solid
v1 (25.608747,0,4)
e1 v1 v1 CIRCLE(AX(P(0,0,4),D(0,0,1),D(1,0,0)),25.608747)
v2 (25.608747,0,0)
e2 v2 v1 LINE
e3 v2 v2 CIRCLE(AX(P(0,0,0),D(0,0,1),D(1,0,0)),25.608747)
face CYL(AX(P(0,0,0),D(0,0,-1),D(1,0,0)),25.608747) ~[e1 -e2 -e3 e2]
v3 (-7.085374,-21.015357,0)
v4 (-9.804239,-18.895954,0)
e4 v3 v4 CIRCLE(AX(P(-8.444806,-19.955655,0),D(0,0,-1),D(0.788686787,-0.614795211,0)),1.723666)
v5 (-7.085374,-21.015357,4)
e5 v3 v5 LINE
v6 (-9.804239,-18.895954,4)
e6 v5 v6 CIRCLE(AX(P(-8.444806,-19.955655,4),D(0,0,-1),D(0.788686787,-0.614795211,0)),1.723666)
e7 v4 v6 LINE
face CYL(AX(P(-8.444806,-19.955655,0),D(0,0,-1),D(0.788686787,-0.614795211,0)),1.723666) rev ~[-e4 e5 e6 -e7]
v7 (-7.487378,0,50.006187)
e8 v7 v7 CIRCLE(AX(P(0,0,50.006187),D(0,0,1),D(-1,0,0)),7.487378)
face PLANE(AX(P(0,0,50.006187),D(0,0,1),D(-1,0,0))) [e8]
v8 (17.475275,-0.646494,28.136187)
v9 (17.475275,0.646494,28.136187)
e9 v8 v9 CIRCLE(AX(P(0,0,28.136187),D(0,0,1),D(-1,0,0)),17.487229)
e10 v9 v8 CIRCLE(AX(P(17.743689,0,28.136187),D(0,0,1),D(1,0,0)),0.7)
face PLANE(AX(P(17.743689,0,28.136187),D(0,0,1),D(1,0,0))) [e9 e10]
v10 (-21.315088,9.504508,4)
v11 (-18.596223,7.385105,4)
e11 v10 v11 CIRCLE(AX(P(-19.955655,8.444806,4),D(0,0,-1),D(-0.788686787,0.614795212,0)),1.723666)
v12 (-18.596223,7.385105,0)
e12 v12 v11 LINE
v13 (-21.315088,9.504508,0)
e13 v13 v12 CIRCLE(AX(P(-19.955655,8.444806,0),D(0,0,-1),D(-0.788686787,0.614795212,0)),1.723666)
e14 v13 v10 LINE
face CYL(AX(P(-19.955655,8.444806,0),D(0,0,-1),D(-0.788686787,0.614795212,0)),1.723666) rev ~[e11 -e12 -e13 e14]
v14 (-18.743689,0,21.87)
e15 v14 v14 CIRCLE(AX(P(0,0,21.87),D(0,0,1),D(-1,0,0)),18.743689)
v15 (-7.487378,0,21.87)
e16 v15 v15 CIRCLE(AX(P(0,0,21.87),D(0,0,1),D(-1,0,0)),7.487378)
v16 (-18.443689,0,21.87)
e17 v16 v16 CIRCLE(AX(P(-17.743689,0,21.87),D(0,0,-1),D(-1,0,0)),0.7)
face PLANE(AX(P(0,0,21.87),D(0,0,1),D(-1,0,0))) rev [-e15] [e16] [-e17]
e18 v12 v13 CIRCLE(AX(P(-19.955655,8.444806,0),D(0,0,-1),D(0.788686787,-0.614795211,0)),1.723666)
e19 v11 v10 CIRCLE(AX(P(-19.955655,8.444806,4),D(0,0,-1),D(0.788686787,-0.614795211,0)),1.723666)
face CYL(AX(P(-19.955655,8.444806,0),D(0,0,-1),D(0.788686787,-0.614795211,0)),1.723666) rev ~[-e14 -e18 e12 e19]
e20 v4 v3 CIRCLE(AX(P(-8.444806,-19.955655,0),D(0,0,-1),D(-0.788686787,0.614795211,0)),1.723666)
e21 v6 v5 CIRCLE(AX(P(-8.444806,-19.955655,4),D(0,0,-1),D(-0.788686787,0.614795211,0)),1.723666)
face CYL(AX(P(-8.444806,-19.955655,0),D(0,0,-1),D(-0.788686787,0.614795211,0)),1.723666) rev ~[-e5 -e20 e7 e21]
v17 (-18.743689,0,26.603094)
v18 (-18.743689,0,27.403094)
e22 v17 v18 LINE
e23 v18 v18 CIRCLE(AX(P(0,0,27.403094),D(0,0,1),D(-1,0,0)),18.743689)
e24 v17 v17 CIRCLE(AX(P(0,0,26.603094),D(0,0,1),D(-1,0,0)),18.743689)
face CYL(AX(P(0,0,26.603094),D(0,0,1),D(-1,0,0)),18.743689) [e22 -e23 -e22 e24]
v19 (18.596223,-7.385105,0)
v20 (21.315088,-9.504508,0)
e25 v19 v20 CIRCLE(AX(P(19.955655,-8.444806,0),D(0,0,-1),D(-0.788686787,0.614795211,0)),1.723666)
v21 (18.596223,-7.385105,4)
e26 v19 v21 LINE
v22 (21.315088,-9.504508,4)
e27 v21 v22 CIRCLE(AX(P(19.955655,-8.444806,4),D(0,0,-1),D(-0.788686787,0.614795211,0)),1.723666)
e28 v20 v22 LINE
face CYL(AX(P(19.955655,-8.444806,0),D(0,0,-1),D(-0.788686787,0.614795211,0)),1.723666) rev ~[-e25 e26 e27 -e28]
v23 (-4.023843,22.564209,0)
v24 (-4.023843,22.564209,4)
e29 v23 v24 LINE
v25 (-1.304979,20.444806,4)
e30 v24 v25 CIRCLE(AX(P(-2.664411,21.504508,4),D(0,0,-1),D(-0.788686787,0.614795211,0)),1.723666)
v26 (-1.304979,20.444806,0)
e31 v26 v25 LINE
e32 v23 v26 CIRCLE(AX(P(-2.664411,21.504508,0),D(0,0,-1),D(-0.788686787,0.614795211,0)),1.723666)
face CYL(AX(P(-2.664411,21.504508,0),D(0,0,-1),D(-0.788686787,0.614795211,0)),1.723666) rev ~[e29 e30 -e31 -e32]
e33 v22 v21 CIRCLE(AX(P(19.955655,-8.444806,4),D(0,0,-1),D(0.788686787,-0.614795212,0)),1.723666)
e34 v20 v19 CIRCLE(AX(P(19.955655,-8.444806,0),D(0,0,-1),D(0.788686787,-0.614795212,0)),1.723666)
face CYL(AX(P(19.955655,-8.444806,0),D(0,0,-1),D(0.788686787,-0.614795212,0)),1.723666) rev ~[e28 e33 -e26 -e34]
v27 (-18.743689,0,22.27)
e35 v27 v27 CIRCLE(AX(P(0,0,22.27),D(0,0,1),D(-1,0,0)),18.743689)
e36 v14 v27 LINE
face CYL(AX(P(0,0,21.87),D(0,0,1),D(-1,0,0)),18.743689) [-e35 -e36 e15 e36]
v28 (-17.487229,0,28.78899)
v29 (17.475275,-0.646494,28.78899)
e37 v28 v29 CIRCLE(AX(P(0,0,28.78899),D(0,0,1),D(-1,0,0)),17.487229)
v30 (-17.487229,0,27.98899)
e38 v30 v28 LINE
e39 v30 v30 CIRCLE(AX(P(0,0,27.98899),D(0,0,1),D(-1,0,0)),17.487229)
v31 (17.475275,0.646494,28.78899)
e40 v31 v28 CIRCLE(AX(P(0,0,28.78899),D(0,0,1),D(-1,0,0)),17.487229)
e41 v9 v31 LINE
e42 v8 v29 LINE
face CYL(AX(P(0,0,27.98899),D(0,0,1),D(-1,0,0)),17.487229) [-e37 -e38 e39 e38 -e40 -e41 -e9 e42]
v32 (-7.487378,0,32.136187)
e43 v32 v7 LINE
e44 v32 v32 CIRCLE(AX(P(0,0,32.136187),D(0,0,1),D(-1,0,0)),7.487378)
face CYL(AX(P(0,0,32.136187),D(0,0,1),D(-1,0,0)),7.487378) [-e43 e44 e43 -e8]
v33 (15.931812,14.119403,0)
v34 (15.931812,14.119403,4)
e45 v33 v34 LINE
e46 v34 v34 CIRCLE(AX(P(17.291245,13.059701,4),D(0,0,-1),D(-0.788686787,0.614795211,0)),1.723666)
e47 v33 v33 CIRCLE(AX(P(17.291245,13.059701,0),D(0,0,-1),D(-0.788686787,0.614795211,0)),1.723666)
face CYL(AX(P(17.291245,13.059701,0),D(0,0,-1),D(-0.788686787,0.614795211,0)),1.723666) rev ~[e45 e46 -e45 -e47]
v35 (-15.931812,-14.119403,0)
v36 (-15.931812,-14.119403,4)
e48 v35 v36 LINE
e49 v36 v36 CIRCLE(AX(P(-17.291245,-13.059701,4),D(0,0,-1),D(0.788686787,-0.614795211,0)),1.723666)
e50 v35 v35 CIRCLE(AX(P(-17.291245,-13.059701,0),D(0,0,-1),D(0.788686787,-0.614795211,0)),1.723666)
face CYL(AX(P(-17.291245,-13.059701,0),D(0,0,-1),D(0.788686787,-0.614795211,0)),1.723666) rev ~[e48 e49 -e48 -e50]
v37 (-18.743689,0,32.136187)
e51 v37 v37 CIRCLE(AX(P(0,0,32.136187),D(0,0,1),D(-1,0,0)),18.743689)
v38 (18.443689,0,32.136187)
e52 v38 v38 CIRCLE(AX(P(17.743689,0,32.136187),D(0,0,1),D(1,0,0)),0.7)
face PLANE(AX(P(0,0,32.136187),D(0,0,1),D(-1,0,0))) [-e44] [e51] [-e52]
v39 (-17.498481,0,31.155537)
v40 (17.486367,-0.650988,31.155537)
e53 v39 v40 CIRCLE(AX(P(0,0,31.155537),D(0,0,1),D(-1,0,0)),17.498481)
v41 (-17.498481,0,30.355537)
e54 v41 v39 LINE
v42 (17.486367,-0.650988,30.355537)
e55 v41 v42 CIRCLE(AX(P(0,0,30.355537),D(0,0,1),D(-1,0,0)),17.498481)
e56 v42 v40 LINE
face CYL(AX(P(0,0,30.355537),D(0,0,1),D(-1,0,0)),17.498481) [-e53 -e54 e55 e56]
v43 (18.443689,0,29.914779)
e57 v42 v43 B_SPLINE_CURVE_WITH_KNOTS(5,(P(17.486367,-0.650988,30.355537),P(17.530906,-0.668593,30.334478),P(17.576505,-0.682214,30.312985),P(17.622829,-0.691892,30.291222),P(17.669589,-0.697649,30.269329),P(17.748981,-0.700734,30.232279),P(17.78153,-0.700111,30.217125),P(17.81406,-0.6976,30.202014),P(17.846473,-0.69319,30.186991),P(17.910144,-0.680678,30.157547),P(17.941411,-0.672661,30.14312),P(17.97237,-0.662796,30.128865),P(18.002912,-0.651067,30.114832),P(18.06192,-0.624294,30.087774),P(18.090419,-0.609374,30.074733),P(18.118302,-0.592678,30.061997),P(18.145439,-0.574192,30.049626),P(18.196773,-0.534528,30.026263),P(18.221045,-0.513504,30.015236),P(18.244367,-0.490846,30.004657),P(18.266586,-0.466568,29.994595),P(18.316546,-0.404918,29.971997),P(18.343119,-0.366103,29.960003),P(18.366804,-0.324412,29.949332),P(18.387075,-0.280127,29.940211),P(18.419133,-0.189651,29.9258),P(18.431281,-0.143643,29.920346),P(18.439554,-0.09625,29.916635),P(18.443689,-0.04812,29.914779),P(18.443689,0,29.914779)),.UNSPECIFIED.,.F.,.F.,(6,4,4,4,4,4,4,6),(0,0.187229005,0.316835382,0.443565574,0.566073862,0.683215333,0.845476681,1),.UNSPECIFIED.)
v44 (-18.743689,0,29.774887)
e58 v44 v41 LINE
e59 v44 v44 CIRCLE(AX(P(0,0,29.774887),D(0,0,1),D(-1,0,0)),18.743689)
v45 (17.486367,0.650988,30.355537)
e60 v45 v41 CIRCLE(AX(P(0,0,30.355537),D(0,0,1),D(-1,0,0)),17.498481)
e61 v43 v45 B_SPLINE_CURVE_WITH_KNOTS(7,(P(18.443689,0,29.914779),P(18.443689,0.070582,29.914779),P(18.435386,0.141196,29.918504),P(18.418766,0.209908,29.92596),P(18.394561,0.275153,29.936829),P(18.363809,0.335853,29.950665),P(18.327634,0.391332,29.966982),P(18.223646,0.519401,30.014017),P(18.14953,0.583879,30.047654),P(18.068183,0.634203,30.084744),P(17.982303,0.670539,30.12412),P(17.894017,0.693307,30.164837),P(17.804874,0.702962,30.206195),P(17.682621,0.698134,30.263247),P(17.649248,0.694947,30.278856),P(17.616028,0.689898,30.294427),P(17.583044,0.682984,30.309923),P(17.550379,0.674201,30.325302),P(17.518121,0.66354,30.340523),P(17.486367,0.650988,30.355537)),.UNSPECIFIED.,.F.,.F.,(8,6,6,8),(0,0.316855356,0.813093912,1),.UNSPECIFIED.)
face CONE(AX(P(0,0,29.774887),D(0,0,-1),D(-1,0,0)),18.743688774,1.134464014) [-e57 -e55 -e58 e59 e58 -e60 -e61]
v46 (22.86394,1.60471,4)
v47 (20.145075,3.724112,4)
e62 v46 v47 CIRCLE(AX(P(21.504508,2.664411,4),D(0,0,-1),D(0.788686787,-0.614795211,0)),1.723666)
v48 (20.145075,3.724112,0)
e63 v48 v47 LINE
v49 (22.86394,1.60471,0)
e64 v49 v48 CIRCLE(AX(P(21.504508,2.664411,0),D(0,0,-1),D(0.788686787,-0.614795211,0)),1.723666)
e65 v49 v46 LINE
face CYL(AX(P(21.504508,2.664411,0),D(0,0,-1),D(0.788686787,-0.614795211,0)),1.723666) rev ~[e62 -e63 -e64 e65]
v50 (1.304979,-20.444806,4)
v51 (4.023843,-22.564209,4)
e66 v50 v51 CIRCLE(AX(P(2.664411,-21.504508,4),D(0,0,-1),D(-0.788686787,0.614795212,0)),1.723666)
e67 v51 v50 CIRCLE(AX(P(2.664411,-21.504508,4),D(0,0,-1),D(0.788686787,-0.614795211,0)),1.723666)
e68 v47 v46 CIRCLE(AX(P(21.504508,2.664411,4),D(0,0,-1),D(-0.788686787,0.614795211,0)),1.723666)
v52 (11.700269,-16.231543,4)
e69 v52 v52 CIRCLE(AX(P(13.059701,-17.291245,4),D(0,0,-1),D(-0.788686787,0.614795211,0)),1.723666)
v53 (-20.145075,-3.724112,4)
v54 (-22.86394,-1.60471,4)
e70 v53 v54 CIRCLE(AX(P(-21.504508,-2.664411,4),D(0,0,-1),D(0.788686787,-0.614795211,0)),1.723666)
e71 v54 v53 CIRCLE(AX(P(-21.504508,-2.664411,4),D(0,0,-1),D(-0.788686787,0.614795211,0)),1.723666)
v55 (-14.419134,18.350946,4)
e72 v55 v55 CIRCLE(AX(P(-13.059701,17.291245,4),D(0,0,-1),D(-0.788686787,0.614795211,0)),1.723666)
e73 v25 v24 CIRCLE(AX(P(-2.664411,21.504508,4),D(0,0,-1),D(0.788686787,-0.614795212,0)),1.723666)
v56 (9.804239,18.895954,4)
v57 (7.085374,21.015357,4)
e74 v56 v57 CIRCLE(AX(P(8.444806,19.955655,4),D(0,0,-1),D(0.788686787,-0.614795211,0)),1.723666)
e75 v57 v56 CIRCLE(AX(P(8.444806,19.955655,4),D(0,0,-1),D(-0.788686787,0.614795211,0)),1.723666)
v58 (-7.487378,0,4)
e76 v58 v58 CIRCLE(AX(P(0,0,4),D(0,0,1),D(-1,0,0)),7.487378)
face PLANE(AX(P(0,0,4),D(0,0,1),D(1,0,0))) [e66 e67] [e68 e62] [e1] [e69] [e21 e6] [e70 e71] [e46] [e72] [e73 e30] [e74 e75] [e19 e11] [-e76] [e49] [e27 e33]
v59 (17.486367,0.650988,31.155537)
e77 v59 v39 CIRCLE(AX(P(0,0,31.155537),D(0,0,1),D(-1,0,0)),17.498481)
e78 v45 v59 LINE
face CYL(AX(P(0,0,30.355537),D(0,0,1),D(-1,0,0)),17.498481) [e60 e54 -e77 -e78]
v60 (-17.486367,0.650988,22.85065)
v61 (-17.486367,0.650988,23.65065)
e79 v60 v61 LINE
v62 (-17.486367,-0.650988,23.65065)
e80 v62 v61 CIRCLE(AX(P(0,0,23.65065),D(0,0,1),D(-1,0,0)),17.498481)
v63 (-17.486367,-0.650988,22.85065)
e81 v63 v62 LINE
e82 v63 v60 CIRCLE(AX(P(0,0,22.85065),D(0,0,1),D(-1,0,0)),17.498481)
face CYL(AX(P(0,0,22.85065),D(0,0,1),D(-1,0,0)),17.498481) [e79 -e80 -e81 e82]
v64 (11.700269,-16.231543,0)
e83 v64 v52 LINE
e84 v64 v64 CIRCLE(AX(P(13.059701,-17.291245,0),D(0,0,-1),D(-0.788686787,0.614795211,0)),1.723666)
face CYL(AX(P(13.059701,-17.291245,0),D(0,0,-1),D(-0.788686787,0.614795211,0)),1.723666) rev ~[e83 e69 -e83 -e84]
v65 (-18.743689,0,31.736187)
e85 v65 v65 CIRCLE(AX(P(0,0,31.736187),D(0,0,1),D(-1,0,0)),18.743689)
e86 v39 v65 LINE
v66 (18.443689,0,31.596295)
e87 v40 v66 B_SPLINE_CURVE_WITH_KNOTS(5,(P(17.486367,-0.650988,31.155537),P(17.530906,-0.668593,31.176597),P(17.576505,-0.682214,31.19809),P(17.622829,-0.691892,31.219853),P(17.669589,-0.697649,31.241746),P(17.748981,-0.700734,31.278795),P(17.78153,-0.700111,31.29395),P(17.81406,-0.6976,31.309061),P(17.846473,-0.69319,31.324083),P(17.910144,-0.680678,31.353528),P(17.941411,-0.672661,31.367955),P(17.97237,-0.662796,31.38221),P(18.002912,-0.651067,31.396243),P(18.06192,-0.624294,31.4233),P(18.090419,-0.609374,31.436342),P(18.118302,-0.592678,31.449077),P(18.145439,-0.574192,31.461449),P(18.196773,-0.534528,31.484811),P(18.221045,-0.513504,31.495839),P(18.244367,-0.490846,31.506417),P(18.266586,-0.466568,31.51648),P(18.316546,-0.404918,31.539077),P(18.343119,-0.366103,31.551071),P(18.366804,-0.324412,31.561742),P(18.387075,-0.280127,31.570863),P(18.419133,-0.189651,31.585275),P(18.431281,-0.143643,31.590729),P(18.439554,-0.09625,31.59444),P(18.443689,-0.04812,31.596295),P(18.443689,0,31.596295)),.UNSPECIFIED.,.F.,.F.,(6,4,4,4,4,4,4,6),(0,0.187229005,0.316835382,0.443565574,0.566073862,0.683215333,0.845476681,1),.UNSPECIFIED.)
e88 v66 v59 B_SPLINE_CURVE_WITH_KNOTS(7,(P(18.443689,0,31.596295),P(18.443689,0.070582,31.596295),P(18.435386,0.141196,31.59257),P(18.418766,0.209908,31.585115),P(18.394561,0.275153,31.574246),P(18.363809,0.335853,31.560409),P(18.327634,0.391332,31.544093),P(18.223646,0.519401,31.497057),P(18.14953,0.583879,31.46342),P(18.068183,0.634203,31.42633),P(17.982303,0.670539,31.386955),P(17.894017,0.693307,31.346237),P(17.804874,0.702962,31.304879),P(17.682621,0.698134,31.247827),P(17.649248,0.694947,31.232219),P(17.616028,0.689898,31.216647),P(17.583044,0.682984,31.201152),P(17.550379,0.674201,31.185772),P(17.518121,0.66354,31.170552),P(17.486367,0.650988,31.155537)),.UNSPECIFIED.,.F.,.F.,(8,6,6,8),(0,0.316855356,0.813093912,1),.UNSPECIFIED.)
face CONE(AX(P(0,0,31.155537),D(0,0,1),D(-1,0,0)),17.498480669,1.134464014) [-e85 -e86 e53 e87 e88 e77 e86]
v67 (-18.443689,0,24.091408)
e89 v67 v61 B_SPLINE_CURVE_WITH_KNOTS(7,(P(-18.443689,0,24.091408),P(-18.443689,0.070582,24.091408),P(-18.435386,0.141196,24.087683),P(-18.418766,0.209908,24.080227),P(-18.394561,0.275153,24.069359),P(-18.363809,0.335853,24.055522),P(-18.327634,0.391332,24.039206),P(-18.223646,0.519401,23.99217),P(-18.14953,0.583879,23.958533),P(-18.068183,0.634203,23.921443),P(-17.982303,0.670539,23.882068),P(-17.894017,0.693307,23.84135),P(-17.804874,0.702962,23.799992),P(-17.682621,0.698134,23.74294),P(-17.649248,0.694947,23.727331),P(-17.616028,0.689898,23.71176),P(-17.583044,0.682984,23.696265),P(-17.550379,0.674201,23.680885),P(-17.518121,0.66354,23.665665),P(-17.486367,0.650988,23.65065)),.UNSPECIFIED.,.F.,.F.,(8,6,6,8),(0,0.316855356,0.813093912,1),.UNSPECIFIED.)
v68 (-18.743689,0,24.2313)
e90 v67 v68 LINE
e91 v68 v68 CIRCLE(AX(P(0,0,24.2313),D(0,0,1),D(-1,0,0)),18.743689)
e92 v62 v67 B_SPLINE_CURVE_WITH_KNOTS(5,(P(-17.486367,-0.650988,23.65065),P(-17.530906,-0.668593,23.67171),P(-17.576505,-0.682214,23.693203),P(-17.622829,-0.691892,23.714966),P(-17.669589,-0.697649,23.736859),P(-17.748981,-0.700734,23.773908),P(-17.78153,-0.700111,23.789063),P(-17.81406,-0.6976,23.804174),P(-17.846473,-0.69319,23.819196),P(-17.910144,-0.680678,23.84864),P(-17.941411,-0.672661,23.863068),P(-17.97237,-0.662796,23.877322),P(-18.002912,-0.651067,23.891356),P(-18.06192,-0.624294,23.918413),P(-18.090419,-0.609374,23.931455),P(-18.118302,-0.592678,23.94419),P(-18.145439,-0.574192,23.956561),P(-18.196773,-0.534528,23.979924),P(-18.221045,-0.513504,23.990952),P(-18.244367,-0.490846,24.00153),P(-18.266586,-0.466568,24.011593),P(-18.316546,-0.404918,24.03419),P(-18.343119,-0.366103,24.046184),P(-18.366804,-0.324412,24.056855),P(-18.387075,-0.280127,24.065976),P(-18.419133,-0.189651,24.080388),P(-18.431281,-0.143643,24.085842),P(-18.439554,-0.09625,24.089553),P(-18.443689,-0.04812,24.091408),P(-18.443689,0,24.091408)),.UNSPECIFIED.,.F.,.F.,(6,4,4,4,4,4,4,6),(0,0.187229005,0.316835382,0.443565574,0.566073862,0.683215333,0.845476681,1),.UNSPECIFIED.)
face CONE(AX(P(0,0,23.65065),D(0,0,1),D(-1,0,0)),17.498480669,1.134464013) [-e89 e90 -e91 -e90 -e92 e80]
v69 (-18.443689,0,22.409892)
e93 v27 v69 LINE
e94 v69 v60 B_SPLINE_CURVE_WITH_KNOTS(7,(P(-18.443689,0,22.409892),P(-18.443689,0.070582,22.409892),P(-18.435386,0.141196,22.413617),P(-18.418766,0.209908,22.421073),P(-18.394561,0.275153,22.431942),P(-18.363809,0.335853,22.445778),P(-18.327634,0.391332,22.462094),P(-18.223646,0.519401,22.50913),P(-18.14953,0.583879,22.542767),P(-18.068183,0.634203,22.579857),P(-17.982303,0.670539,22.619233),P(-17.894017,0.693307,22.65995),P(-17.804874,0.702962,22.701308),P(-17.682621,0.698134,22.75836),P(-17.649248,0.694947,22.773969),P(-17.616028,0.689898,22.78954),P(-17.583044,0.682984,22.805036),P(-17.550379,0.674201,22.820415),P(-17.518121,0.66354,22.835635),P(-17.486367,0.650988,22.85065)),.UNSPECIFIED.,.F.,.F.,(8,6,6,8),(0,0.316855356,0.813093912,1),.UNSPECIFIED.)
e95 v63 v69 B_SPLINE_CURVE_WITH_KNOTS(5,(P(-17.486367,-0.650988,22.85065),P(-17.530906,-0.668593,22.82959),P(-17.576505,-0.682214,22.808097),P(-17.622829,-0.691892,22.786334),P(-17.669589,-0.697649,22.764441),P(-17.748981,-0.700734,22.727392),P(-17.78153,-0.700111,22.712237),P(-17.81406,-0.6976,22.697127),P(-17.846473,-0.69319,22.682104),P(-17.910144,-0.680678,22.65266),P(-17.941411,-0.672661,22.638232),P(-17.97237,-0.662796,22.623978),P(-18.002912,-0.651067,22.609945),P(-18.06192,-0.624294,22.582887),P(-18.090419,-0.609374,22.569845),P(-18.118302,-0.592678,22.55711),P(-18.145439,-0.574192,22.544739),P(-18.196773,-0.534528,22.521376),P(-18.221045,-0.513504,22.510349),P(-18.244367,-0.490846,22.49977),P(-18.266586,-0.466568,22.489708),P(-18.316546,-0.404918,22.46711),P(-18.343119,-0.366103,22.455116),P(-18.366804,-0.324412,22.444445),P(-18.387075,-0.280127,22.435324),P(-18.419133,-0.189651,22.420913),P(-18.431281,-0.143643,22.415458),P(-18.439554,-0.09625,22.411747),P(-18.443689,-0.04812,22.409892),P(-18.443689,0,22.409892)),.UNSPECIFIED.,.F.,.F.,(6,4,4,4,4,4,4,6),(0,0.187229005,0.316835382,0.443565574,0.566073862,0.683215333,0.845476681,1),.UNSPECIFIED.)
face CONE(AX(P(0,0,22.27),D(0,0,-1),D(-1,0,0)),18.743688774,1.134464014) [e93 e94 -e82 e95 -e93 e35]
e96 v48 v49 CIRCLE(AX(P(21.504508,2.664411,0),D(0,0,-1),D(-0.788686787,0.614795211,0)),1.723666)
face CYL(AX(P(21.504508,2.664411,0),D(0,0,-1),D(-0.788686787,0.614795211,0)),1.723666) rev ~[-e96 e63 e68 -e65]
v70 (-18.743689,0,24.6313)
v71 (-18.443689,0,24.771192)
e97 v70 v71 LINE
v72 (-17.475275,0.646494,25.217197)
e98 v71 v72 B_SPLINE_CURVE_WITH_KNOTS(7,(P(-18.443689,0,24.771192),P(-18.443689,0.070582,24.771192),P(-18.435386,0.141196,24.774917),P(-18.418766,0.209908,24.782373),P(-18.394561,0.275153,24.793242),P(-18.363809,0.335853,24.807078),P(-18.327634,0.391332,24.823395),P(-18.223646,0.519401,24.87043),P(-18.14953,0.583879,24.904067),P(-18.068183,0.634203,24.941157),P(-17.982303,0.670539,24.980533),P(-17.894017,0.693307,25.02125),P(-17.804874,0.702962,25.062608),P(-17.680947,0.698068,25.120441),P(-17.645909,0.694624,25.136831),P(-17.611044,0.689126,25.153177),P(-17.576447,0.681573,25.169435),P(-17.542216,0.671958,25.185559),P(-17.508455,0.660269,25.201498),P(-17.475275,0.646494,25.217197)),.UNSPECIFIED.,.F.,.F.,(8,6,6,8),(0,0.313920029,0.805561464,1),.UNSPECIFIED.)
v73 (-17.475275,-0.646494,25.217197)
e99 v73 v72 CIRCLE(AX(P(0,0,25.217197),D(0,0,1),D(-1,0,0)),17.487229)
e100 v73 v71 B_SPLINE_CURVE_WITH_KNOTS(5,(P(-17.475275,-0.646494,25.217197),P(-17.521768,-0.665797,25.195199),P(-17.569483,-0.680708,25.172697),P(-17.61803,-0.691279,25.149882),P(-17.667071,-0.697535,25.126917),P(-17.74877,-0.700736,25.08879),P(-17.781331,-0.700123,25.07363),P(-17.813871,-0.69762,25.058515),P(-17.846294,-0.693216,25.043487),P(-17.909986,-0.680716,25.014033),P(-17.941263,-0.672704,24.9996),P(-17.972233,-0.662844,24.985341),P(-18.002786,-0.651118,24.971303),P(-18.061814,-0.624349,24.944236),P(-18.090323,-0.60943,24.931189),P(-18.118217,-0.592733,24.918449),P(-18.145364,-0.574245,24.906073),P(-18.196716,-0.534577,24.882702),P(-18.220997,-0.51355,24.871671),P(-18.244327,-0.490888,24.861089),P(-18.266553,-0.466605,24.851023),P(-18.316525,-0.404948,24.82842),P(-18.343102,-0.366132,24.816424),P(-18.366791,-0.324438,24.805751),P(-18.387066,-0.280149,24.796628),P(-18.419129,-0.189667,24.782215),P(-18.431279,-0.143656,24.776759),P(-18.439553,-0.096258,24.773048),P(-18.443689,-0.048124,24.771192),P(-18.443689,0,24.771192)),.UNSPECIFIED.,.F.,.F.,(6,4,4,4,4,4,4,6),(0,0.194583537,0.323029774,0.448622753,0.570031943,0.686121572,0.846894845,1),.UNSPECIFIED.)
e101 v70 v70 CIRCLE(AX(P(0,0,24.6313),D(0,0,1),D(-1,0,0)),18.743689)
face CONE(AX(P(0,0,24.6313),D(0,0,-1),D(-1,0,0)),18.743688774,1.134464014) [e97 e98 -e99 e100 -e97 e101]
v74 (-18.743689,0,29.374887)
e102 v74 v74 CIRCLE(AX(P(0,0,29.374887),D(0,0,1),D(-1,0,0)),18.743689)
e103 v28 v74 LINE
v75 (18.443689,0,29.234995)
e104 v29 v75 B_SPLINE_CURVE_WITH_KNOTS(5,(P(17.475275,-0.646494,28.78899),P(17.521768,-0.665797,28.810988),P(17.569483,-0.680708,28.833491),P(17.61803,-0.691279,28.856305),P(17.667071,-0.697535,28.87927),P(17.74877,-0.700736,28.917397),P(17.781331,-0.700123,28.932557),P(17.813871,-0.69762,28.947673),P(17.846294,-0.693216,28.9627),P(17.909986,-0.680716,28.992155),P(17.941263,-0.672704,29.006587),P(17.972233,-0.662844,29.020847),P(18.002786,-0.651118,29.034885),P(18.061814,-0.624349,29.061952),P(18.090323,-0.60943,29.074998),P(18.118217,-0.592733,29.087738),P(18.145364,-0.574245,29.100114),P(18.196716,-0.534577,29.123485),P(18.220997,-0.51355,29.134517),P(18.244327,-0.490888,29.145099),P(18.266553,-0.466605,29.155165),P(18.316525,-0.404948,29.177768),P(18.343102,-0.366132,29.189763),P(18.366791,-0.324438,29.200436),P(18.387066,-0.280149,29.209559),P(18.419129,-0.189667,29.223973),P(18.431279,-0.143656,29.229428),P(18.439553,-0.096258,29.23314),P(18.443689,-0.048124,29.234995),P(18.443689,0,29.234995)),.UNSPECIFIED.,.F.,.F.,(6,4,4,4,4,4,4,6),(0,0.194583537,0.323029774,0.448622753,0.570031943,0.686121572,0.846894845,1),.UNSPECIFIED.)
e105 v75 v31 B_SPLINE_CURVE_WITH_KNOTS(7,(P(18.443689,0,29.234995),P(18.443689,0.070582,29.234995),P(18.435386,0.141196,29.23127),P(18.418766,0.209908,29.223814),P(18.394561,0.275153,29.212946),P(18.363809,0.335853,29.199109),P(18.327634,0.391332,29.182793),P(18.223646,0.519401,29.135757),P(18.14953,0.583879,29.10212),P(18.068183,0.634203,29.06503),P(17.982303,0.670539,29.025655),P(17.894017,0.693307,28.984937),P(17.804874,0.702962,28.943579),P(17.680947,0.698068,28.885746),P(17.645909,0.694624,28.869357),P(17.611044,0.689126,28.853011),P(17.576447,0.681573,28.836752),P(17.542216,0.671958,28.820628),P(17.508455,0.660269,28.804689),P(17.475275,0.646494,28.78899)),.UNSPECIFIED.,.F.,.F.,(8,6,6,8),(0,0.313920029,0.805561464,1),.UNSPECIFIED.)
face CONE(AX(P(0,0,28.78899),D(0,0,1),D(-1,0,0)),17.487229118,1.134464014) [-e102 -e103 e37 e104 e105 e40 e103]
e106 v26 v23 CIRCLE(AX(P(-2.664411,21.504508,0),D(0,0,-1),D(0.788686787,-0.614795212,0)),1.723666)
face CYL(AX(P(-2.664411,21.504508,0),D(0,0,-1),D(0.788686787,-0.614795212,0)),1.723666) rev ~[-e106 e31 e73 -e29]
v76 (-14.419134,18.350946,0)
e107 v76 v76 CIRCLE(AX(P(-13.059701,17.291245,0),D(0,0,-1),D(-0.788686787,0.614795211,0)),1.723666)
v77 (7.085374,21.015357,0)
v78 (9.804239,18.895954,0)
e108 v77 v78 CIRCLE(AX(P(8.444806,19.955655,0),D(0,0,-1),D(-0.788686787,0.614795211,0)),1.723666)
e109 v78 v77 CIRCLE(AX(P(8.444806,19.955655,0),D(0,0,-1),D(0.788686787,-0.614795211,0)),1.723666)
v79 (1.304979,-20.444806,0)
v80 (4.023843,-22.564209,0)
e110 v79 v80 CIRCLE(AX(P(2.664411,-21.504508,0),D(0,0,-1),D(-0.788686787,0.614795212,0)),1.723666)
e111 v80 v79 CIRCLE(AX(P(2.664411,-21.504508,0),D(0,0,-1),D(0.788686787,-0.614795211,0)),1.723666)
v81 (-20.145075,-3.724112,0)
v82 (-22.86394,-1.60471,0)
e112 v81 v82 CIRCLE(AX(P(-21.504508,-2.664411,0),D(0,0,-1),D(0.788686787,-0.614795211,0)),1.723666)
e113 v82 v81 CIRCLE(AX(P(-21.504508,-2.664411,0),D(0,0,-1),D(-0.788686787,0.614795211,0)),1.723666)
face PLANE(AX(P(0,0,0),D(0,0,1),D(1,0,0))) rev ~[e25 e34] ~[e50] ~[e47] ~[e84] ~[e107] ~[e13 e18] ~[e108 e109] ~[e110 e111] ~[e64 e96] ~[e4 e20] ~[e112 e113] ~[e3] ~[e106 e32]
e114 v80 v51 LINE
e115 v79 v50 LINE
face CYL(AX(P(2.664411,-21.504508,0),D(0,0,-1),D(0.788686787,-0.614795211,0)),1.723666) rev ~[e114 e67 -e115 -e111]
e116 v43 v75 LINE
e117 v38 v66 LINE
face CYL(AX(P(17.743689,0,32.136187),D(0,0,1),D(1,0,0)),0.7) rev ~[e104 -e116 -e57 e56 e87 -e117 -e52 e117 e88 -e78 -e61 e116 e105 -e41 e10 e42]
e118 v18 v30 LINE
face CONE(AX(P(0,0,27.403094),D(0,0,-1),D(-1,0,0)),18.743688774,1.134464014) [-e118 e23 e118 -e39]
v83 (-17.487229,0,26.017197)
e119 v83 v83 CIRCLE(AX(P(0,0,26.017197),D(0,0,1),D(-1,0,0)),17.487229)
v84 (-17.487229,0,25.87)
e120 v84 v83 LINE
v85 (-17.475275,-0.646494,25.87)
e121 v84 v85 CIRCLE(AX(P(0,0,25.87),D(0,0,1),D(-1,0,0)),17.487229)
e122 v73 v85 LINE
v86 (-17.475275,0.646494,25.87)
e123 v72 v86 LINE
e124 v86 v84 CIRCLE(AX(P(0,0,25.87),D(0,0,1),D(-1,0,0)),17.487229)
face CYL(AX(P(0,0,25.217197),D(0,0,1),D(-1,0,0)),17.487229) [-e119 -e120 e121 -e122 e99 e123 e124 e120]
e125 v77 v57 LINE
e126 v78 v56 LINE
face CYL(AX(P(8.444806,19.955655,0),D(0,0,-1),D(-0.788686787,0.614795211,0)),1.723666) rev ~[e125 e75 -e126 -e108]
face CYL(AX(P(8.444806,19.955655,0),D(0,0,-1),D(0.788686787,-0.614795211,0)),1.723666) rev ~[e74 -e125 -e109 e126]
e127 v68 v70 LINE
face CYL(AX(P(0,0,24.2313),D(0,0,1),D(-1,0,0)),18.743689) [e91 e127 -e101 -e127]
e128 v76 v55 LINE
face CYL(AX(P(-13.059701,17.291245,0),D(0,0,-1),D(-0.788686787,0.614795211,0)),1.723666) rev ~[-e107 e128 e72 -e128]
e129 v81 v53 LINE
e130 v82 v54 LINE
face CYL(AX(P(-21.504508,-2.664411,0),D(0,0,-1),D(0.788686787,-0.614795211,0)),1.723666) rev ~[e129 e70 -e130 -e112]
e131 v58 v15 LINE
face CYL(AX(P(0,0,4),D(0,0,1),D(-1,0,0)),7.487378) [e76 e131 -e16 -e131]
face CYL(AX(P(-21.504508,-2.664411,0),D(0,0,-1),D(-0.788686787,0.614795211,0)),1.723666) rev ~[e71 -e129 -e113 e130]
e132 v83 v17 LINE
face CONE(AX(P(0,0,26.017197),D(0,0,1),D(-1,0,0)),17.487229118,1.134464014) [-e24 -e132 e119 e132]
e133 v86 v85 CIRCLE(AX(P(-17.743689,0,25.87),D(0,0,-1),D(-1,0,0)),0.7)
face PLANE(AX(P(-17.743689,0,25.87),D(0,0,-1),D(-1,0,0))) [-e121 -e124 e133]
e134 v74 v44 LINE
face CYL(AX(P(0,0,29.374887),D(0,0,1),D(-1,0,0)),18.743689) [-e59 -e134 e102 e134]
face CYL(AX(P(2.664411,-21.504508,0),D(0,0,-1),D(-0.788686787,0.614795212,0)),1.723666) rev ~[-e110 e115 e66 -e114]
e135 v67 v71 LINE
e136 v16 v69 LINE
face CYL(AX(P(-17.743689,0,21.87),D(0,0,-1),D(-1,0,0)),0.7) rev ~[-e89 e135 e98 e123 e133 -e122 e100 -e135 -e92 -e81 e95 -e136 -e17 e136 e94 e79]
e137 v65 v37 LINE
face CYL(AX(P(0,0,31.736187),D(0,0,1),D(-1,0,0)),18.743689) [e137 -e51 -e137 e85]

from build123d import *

# Parameters (mm, degrees)
SKETCH1_R           = 25.608746635
BOSS_EXTRUDE3_DEPTH = 4
SKETCH10_R          = 0.7
CUT_EXTRUDE1_DEPTH  = 4
SKETCH11_R          = 0.7
CUT_EXTRUDE2_DEPTH  = 4


with BuildPart() as part:
    # Sketch1 → Boss-Extrude3 (new body)
    with BuildSketch(Plane.XY):
        Circle(SKETCH1_R)
        with BuildLine():
            ThreePointArc((-18.650676838, -12), (-16.231543143, -11.700269066), (-15.931812209, -14.119402761))
            ThreePointArc((-15.931812209, -14.119402761), (-18.350945904, -14.419133695), (-18.650676838, -12))
        make_face(mode=Mode.SUBTRACT)
        with BuildLine():
            ThreePointArc((-9.804238645, -18.895954043), (-7.385104949, -18.596223108), (-7.085374015, -21.015356804))
            ThreePointArc((-7.085374015, -21.015356804), (-9.504507711, -21.315087738), (-9.804238645, -18.895954043))
        make_face(mode=Mode.SUBTRACT)
        with BuildLine():
            ThreePointArc((-22.863940025, -1.604709519), (-20.44480633, -1.304978585), (-20.145075396, -3.72411228))
            ThreePointArc((-20.145075396, -3.72411228), (-22.564209091, -4.023843215), (-22.863940025, -1.604709519))
        make_face(mode=Mode.SUBTRACT)
        with BuildLine():
            ThreePointArc((1.304978585, -20.44480633), (3.72411228, -20.145075396), (4.023843215, -22.564209091))
            ThreePointArc((4.023843215, -22.564209091), (1.604709519, -22.863940025), (1.304978585, -20.44480633))
        make_face(mode=Mode.SUBTRACT)
        with BuildLine():
            ThreePointArc((14.419133695, -18.350945904), (12, -18.650676838), (11.700269066, -16.231543143))
            ThreePointArc((11.700269066, -16.231543143), (14.119402761, -15.931812209), (14.419133695, -18.350945904))
        make_face(mode=Mode.SUBTRACT)
        with BuildLine():
            ThreePointArc((21.315087738, -9.504507711), (18.895954043, -9.804238645), (18.596223108, -7.385104949))
            ThreePointArc((18.596223108, -7.385104949), (21.015356804, -7.085374015), (21.315087738, -9.504507711))
        make_face(mode=Mode.SUBTRACT)
        with BuildLine():
            ThreePointArc((-21.315087738, 9.504507711), (-18.895954043, 9.804238645), (-18.596223108, 7.385104949))
            ThreePointArc((-18.596223108, 7.385104949), (-21.015356804, 7.085374015), (-21.315087738, 9.504507711))
        make_face(mode=Mode.SUBTRACT)
        with BuildLine():
            ThreePointArc((-11.700269066, 16.231543143), (-14.119402761, 15.931812209), (-14.419133695, 18.350945904))
            ThreePointArc((-14.419133695, 18.350945904), (-12, 18.650676838), (-11.700269066, 16.231543143))
        make_face(mode=Mode.SUBTRACT)
        with BuildLine():
            ThreePointArc((-1.304978585, 20.44480633), (-3.72411228, 20.145075396), (-4.023843215, 22.564209091))
            ThreePointArc((-4.023843215, 22.564209091), (-1.604709519, 22.863940025), (-1.304978585, 20.44480633))
        make_face(mode=Mode.SUBTRACT)
        with BuildLine():
            ThreePointArc((20.145075396, 3.72411228), (22.564209091, 4.023843215), (22.863940025, 1.604709519))
            ThreePointArc((22.863940025, 1.604709519), (20.44480633, 1.304978585), (20.145075396, 3.72411228))
        make_face(mode=Mode.SUBTRACT)
        with BuildLine():
            ThreePointArc((9.804238645, 18.895954043), (7.385104949, 18.596223108), (7.085374015, 21.015356804))
            ThreePointArc((7.085374015, 21.015356804), (9.504507711, 21.315087738), (9.804238645, 18.895954043))
        make_face(mode=Mode.SUBTRACT)
        with BuildLine():
            ThreePointArc((18.650676838, 12), (16.231543143, 11.700269066), (15.931812209, 14.119402761))
            ThreePointArc((15.931812209, 14.119402761), (18.350945904, 14.419133695), (18.650676838, 12))
        make_face(mode=Mode.SUBTRACT)
    extrude(amount=BOSS_EXTRUDE3_DEPTH)

    # Sketch9 → Revolve1 (revolve)
    with BuildSketch(Plane(origin=(0, 0, 0), x_dir=(0, 0, -1), z_dir=(1, 0, 0)), mode=Mode.PRIVATE) as revolve1_sk:
        Polygon((-32.13618734, 18.743688774), (-32.13618734, 7.487377548), (-27.00309367, 7.487377548), (-27.00309367, 18.743688774), (-27.40309367, 18.743688774), (-27.98899043, 17.487229118), (-28.78899043, 17.487229118), (-29.37488719, 18.743688774), (-29.77488719, 18.743688774), (-30.355537265, 17.498480669), (-31.155537265, 17.498480669), (-31.73618734, 18.743688774), align=None)
        Polygon((-27.00309367, 18.743688774), (-27.00309367, 7.487377548), (-21.87, 7.487377548), (-21.87, 18.743688774), (-22.27, 18.743688774), (-22.850650075, 17.498480669), (-23.650650075, 17.498480669), (-24.231300151, 18.743688774), (-24.631300151, 18.743688774), (-25.21719691, 17.487229118), (-26.01719691, 17.487229118), (-26.60309367, 18.743688774), align=None)
        Polygon((-32.13618734, 7.487377548), (-50.00618734, 7.487377548), (-50.00618734, 0), (-4, 0), (-4, 7.487377548), (-21.87, 7.487377548), (-27.00309367, 7.487377548), align=None)
    revolve(revolve1_sk.sketch.rotate(Axis((0, 0, 0), (0, 0, 1)), 90), axis=Axis((0, 0, 0), (0, 0, 1)))

    # Sketch10 → Cut-Extrude1 (cut)
    with BuildSketch(Plane.XY.offset(32.13618734)):
        with Locations((17.743688774, 0)):
            Circle(SKETCH10_R)
    extrude(amount=-CUT_EXTRUDE1_DEPTH, mode=Mode.SUBTRACT)

    # Sketch11 → Cut-Extrude2 (cut)
    with BuildSketch(Plane(origin=(0, 0, 21.87), x_dir=(-1, 0, 0), z_dir=(0, 0, -1))):
        with Locations((17.743688774, 0)):
            Circle(SKETCH11_R)
    extrude(amount=-CUT_EXTRUDE2_DEPTH, mode=Mode.SUBTRACT)


solid = part.part
